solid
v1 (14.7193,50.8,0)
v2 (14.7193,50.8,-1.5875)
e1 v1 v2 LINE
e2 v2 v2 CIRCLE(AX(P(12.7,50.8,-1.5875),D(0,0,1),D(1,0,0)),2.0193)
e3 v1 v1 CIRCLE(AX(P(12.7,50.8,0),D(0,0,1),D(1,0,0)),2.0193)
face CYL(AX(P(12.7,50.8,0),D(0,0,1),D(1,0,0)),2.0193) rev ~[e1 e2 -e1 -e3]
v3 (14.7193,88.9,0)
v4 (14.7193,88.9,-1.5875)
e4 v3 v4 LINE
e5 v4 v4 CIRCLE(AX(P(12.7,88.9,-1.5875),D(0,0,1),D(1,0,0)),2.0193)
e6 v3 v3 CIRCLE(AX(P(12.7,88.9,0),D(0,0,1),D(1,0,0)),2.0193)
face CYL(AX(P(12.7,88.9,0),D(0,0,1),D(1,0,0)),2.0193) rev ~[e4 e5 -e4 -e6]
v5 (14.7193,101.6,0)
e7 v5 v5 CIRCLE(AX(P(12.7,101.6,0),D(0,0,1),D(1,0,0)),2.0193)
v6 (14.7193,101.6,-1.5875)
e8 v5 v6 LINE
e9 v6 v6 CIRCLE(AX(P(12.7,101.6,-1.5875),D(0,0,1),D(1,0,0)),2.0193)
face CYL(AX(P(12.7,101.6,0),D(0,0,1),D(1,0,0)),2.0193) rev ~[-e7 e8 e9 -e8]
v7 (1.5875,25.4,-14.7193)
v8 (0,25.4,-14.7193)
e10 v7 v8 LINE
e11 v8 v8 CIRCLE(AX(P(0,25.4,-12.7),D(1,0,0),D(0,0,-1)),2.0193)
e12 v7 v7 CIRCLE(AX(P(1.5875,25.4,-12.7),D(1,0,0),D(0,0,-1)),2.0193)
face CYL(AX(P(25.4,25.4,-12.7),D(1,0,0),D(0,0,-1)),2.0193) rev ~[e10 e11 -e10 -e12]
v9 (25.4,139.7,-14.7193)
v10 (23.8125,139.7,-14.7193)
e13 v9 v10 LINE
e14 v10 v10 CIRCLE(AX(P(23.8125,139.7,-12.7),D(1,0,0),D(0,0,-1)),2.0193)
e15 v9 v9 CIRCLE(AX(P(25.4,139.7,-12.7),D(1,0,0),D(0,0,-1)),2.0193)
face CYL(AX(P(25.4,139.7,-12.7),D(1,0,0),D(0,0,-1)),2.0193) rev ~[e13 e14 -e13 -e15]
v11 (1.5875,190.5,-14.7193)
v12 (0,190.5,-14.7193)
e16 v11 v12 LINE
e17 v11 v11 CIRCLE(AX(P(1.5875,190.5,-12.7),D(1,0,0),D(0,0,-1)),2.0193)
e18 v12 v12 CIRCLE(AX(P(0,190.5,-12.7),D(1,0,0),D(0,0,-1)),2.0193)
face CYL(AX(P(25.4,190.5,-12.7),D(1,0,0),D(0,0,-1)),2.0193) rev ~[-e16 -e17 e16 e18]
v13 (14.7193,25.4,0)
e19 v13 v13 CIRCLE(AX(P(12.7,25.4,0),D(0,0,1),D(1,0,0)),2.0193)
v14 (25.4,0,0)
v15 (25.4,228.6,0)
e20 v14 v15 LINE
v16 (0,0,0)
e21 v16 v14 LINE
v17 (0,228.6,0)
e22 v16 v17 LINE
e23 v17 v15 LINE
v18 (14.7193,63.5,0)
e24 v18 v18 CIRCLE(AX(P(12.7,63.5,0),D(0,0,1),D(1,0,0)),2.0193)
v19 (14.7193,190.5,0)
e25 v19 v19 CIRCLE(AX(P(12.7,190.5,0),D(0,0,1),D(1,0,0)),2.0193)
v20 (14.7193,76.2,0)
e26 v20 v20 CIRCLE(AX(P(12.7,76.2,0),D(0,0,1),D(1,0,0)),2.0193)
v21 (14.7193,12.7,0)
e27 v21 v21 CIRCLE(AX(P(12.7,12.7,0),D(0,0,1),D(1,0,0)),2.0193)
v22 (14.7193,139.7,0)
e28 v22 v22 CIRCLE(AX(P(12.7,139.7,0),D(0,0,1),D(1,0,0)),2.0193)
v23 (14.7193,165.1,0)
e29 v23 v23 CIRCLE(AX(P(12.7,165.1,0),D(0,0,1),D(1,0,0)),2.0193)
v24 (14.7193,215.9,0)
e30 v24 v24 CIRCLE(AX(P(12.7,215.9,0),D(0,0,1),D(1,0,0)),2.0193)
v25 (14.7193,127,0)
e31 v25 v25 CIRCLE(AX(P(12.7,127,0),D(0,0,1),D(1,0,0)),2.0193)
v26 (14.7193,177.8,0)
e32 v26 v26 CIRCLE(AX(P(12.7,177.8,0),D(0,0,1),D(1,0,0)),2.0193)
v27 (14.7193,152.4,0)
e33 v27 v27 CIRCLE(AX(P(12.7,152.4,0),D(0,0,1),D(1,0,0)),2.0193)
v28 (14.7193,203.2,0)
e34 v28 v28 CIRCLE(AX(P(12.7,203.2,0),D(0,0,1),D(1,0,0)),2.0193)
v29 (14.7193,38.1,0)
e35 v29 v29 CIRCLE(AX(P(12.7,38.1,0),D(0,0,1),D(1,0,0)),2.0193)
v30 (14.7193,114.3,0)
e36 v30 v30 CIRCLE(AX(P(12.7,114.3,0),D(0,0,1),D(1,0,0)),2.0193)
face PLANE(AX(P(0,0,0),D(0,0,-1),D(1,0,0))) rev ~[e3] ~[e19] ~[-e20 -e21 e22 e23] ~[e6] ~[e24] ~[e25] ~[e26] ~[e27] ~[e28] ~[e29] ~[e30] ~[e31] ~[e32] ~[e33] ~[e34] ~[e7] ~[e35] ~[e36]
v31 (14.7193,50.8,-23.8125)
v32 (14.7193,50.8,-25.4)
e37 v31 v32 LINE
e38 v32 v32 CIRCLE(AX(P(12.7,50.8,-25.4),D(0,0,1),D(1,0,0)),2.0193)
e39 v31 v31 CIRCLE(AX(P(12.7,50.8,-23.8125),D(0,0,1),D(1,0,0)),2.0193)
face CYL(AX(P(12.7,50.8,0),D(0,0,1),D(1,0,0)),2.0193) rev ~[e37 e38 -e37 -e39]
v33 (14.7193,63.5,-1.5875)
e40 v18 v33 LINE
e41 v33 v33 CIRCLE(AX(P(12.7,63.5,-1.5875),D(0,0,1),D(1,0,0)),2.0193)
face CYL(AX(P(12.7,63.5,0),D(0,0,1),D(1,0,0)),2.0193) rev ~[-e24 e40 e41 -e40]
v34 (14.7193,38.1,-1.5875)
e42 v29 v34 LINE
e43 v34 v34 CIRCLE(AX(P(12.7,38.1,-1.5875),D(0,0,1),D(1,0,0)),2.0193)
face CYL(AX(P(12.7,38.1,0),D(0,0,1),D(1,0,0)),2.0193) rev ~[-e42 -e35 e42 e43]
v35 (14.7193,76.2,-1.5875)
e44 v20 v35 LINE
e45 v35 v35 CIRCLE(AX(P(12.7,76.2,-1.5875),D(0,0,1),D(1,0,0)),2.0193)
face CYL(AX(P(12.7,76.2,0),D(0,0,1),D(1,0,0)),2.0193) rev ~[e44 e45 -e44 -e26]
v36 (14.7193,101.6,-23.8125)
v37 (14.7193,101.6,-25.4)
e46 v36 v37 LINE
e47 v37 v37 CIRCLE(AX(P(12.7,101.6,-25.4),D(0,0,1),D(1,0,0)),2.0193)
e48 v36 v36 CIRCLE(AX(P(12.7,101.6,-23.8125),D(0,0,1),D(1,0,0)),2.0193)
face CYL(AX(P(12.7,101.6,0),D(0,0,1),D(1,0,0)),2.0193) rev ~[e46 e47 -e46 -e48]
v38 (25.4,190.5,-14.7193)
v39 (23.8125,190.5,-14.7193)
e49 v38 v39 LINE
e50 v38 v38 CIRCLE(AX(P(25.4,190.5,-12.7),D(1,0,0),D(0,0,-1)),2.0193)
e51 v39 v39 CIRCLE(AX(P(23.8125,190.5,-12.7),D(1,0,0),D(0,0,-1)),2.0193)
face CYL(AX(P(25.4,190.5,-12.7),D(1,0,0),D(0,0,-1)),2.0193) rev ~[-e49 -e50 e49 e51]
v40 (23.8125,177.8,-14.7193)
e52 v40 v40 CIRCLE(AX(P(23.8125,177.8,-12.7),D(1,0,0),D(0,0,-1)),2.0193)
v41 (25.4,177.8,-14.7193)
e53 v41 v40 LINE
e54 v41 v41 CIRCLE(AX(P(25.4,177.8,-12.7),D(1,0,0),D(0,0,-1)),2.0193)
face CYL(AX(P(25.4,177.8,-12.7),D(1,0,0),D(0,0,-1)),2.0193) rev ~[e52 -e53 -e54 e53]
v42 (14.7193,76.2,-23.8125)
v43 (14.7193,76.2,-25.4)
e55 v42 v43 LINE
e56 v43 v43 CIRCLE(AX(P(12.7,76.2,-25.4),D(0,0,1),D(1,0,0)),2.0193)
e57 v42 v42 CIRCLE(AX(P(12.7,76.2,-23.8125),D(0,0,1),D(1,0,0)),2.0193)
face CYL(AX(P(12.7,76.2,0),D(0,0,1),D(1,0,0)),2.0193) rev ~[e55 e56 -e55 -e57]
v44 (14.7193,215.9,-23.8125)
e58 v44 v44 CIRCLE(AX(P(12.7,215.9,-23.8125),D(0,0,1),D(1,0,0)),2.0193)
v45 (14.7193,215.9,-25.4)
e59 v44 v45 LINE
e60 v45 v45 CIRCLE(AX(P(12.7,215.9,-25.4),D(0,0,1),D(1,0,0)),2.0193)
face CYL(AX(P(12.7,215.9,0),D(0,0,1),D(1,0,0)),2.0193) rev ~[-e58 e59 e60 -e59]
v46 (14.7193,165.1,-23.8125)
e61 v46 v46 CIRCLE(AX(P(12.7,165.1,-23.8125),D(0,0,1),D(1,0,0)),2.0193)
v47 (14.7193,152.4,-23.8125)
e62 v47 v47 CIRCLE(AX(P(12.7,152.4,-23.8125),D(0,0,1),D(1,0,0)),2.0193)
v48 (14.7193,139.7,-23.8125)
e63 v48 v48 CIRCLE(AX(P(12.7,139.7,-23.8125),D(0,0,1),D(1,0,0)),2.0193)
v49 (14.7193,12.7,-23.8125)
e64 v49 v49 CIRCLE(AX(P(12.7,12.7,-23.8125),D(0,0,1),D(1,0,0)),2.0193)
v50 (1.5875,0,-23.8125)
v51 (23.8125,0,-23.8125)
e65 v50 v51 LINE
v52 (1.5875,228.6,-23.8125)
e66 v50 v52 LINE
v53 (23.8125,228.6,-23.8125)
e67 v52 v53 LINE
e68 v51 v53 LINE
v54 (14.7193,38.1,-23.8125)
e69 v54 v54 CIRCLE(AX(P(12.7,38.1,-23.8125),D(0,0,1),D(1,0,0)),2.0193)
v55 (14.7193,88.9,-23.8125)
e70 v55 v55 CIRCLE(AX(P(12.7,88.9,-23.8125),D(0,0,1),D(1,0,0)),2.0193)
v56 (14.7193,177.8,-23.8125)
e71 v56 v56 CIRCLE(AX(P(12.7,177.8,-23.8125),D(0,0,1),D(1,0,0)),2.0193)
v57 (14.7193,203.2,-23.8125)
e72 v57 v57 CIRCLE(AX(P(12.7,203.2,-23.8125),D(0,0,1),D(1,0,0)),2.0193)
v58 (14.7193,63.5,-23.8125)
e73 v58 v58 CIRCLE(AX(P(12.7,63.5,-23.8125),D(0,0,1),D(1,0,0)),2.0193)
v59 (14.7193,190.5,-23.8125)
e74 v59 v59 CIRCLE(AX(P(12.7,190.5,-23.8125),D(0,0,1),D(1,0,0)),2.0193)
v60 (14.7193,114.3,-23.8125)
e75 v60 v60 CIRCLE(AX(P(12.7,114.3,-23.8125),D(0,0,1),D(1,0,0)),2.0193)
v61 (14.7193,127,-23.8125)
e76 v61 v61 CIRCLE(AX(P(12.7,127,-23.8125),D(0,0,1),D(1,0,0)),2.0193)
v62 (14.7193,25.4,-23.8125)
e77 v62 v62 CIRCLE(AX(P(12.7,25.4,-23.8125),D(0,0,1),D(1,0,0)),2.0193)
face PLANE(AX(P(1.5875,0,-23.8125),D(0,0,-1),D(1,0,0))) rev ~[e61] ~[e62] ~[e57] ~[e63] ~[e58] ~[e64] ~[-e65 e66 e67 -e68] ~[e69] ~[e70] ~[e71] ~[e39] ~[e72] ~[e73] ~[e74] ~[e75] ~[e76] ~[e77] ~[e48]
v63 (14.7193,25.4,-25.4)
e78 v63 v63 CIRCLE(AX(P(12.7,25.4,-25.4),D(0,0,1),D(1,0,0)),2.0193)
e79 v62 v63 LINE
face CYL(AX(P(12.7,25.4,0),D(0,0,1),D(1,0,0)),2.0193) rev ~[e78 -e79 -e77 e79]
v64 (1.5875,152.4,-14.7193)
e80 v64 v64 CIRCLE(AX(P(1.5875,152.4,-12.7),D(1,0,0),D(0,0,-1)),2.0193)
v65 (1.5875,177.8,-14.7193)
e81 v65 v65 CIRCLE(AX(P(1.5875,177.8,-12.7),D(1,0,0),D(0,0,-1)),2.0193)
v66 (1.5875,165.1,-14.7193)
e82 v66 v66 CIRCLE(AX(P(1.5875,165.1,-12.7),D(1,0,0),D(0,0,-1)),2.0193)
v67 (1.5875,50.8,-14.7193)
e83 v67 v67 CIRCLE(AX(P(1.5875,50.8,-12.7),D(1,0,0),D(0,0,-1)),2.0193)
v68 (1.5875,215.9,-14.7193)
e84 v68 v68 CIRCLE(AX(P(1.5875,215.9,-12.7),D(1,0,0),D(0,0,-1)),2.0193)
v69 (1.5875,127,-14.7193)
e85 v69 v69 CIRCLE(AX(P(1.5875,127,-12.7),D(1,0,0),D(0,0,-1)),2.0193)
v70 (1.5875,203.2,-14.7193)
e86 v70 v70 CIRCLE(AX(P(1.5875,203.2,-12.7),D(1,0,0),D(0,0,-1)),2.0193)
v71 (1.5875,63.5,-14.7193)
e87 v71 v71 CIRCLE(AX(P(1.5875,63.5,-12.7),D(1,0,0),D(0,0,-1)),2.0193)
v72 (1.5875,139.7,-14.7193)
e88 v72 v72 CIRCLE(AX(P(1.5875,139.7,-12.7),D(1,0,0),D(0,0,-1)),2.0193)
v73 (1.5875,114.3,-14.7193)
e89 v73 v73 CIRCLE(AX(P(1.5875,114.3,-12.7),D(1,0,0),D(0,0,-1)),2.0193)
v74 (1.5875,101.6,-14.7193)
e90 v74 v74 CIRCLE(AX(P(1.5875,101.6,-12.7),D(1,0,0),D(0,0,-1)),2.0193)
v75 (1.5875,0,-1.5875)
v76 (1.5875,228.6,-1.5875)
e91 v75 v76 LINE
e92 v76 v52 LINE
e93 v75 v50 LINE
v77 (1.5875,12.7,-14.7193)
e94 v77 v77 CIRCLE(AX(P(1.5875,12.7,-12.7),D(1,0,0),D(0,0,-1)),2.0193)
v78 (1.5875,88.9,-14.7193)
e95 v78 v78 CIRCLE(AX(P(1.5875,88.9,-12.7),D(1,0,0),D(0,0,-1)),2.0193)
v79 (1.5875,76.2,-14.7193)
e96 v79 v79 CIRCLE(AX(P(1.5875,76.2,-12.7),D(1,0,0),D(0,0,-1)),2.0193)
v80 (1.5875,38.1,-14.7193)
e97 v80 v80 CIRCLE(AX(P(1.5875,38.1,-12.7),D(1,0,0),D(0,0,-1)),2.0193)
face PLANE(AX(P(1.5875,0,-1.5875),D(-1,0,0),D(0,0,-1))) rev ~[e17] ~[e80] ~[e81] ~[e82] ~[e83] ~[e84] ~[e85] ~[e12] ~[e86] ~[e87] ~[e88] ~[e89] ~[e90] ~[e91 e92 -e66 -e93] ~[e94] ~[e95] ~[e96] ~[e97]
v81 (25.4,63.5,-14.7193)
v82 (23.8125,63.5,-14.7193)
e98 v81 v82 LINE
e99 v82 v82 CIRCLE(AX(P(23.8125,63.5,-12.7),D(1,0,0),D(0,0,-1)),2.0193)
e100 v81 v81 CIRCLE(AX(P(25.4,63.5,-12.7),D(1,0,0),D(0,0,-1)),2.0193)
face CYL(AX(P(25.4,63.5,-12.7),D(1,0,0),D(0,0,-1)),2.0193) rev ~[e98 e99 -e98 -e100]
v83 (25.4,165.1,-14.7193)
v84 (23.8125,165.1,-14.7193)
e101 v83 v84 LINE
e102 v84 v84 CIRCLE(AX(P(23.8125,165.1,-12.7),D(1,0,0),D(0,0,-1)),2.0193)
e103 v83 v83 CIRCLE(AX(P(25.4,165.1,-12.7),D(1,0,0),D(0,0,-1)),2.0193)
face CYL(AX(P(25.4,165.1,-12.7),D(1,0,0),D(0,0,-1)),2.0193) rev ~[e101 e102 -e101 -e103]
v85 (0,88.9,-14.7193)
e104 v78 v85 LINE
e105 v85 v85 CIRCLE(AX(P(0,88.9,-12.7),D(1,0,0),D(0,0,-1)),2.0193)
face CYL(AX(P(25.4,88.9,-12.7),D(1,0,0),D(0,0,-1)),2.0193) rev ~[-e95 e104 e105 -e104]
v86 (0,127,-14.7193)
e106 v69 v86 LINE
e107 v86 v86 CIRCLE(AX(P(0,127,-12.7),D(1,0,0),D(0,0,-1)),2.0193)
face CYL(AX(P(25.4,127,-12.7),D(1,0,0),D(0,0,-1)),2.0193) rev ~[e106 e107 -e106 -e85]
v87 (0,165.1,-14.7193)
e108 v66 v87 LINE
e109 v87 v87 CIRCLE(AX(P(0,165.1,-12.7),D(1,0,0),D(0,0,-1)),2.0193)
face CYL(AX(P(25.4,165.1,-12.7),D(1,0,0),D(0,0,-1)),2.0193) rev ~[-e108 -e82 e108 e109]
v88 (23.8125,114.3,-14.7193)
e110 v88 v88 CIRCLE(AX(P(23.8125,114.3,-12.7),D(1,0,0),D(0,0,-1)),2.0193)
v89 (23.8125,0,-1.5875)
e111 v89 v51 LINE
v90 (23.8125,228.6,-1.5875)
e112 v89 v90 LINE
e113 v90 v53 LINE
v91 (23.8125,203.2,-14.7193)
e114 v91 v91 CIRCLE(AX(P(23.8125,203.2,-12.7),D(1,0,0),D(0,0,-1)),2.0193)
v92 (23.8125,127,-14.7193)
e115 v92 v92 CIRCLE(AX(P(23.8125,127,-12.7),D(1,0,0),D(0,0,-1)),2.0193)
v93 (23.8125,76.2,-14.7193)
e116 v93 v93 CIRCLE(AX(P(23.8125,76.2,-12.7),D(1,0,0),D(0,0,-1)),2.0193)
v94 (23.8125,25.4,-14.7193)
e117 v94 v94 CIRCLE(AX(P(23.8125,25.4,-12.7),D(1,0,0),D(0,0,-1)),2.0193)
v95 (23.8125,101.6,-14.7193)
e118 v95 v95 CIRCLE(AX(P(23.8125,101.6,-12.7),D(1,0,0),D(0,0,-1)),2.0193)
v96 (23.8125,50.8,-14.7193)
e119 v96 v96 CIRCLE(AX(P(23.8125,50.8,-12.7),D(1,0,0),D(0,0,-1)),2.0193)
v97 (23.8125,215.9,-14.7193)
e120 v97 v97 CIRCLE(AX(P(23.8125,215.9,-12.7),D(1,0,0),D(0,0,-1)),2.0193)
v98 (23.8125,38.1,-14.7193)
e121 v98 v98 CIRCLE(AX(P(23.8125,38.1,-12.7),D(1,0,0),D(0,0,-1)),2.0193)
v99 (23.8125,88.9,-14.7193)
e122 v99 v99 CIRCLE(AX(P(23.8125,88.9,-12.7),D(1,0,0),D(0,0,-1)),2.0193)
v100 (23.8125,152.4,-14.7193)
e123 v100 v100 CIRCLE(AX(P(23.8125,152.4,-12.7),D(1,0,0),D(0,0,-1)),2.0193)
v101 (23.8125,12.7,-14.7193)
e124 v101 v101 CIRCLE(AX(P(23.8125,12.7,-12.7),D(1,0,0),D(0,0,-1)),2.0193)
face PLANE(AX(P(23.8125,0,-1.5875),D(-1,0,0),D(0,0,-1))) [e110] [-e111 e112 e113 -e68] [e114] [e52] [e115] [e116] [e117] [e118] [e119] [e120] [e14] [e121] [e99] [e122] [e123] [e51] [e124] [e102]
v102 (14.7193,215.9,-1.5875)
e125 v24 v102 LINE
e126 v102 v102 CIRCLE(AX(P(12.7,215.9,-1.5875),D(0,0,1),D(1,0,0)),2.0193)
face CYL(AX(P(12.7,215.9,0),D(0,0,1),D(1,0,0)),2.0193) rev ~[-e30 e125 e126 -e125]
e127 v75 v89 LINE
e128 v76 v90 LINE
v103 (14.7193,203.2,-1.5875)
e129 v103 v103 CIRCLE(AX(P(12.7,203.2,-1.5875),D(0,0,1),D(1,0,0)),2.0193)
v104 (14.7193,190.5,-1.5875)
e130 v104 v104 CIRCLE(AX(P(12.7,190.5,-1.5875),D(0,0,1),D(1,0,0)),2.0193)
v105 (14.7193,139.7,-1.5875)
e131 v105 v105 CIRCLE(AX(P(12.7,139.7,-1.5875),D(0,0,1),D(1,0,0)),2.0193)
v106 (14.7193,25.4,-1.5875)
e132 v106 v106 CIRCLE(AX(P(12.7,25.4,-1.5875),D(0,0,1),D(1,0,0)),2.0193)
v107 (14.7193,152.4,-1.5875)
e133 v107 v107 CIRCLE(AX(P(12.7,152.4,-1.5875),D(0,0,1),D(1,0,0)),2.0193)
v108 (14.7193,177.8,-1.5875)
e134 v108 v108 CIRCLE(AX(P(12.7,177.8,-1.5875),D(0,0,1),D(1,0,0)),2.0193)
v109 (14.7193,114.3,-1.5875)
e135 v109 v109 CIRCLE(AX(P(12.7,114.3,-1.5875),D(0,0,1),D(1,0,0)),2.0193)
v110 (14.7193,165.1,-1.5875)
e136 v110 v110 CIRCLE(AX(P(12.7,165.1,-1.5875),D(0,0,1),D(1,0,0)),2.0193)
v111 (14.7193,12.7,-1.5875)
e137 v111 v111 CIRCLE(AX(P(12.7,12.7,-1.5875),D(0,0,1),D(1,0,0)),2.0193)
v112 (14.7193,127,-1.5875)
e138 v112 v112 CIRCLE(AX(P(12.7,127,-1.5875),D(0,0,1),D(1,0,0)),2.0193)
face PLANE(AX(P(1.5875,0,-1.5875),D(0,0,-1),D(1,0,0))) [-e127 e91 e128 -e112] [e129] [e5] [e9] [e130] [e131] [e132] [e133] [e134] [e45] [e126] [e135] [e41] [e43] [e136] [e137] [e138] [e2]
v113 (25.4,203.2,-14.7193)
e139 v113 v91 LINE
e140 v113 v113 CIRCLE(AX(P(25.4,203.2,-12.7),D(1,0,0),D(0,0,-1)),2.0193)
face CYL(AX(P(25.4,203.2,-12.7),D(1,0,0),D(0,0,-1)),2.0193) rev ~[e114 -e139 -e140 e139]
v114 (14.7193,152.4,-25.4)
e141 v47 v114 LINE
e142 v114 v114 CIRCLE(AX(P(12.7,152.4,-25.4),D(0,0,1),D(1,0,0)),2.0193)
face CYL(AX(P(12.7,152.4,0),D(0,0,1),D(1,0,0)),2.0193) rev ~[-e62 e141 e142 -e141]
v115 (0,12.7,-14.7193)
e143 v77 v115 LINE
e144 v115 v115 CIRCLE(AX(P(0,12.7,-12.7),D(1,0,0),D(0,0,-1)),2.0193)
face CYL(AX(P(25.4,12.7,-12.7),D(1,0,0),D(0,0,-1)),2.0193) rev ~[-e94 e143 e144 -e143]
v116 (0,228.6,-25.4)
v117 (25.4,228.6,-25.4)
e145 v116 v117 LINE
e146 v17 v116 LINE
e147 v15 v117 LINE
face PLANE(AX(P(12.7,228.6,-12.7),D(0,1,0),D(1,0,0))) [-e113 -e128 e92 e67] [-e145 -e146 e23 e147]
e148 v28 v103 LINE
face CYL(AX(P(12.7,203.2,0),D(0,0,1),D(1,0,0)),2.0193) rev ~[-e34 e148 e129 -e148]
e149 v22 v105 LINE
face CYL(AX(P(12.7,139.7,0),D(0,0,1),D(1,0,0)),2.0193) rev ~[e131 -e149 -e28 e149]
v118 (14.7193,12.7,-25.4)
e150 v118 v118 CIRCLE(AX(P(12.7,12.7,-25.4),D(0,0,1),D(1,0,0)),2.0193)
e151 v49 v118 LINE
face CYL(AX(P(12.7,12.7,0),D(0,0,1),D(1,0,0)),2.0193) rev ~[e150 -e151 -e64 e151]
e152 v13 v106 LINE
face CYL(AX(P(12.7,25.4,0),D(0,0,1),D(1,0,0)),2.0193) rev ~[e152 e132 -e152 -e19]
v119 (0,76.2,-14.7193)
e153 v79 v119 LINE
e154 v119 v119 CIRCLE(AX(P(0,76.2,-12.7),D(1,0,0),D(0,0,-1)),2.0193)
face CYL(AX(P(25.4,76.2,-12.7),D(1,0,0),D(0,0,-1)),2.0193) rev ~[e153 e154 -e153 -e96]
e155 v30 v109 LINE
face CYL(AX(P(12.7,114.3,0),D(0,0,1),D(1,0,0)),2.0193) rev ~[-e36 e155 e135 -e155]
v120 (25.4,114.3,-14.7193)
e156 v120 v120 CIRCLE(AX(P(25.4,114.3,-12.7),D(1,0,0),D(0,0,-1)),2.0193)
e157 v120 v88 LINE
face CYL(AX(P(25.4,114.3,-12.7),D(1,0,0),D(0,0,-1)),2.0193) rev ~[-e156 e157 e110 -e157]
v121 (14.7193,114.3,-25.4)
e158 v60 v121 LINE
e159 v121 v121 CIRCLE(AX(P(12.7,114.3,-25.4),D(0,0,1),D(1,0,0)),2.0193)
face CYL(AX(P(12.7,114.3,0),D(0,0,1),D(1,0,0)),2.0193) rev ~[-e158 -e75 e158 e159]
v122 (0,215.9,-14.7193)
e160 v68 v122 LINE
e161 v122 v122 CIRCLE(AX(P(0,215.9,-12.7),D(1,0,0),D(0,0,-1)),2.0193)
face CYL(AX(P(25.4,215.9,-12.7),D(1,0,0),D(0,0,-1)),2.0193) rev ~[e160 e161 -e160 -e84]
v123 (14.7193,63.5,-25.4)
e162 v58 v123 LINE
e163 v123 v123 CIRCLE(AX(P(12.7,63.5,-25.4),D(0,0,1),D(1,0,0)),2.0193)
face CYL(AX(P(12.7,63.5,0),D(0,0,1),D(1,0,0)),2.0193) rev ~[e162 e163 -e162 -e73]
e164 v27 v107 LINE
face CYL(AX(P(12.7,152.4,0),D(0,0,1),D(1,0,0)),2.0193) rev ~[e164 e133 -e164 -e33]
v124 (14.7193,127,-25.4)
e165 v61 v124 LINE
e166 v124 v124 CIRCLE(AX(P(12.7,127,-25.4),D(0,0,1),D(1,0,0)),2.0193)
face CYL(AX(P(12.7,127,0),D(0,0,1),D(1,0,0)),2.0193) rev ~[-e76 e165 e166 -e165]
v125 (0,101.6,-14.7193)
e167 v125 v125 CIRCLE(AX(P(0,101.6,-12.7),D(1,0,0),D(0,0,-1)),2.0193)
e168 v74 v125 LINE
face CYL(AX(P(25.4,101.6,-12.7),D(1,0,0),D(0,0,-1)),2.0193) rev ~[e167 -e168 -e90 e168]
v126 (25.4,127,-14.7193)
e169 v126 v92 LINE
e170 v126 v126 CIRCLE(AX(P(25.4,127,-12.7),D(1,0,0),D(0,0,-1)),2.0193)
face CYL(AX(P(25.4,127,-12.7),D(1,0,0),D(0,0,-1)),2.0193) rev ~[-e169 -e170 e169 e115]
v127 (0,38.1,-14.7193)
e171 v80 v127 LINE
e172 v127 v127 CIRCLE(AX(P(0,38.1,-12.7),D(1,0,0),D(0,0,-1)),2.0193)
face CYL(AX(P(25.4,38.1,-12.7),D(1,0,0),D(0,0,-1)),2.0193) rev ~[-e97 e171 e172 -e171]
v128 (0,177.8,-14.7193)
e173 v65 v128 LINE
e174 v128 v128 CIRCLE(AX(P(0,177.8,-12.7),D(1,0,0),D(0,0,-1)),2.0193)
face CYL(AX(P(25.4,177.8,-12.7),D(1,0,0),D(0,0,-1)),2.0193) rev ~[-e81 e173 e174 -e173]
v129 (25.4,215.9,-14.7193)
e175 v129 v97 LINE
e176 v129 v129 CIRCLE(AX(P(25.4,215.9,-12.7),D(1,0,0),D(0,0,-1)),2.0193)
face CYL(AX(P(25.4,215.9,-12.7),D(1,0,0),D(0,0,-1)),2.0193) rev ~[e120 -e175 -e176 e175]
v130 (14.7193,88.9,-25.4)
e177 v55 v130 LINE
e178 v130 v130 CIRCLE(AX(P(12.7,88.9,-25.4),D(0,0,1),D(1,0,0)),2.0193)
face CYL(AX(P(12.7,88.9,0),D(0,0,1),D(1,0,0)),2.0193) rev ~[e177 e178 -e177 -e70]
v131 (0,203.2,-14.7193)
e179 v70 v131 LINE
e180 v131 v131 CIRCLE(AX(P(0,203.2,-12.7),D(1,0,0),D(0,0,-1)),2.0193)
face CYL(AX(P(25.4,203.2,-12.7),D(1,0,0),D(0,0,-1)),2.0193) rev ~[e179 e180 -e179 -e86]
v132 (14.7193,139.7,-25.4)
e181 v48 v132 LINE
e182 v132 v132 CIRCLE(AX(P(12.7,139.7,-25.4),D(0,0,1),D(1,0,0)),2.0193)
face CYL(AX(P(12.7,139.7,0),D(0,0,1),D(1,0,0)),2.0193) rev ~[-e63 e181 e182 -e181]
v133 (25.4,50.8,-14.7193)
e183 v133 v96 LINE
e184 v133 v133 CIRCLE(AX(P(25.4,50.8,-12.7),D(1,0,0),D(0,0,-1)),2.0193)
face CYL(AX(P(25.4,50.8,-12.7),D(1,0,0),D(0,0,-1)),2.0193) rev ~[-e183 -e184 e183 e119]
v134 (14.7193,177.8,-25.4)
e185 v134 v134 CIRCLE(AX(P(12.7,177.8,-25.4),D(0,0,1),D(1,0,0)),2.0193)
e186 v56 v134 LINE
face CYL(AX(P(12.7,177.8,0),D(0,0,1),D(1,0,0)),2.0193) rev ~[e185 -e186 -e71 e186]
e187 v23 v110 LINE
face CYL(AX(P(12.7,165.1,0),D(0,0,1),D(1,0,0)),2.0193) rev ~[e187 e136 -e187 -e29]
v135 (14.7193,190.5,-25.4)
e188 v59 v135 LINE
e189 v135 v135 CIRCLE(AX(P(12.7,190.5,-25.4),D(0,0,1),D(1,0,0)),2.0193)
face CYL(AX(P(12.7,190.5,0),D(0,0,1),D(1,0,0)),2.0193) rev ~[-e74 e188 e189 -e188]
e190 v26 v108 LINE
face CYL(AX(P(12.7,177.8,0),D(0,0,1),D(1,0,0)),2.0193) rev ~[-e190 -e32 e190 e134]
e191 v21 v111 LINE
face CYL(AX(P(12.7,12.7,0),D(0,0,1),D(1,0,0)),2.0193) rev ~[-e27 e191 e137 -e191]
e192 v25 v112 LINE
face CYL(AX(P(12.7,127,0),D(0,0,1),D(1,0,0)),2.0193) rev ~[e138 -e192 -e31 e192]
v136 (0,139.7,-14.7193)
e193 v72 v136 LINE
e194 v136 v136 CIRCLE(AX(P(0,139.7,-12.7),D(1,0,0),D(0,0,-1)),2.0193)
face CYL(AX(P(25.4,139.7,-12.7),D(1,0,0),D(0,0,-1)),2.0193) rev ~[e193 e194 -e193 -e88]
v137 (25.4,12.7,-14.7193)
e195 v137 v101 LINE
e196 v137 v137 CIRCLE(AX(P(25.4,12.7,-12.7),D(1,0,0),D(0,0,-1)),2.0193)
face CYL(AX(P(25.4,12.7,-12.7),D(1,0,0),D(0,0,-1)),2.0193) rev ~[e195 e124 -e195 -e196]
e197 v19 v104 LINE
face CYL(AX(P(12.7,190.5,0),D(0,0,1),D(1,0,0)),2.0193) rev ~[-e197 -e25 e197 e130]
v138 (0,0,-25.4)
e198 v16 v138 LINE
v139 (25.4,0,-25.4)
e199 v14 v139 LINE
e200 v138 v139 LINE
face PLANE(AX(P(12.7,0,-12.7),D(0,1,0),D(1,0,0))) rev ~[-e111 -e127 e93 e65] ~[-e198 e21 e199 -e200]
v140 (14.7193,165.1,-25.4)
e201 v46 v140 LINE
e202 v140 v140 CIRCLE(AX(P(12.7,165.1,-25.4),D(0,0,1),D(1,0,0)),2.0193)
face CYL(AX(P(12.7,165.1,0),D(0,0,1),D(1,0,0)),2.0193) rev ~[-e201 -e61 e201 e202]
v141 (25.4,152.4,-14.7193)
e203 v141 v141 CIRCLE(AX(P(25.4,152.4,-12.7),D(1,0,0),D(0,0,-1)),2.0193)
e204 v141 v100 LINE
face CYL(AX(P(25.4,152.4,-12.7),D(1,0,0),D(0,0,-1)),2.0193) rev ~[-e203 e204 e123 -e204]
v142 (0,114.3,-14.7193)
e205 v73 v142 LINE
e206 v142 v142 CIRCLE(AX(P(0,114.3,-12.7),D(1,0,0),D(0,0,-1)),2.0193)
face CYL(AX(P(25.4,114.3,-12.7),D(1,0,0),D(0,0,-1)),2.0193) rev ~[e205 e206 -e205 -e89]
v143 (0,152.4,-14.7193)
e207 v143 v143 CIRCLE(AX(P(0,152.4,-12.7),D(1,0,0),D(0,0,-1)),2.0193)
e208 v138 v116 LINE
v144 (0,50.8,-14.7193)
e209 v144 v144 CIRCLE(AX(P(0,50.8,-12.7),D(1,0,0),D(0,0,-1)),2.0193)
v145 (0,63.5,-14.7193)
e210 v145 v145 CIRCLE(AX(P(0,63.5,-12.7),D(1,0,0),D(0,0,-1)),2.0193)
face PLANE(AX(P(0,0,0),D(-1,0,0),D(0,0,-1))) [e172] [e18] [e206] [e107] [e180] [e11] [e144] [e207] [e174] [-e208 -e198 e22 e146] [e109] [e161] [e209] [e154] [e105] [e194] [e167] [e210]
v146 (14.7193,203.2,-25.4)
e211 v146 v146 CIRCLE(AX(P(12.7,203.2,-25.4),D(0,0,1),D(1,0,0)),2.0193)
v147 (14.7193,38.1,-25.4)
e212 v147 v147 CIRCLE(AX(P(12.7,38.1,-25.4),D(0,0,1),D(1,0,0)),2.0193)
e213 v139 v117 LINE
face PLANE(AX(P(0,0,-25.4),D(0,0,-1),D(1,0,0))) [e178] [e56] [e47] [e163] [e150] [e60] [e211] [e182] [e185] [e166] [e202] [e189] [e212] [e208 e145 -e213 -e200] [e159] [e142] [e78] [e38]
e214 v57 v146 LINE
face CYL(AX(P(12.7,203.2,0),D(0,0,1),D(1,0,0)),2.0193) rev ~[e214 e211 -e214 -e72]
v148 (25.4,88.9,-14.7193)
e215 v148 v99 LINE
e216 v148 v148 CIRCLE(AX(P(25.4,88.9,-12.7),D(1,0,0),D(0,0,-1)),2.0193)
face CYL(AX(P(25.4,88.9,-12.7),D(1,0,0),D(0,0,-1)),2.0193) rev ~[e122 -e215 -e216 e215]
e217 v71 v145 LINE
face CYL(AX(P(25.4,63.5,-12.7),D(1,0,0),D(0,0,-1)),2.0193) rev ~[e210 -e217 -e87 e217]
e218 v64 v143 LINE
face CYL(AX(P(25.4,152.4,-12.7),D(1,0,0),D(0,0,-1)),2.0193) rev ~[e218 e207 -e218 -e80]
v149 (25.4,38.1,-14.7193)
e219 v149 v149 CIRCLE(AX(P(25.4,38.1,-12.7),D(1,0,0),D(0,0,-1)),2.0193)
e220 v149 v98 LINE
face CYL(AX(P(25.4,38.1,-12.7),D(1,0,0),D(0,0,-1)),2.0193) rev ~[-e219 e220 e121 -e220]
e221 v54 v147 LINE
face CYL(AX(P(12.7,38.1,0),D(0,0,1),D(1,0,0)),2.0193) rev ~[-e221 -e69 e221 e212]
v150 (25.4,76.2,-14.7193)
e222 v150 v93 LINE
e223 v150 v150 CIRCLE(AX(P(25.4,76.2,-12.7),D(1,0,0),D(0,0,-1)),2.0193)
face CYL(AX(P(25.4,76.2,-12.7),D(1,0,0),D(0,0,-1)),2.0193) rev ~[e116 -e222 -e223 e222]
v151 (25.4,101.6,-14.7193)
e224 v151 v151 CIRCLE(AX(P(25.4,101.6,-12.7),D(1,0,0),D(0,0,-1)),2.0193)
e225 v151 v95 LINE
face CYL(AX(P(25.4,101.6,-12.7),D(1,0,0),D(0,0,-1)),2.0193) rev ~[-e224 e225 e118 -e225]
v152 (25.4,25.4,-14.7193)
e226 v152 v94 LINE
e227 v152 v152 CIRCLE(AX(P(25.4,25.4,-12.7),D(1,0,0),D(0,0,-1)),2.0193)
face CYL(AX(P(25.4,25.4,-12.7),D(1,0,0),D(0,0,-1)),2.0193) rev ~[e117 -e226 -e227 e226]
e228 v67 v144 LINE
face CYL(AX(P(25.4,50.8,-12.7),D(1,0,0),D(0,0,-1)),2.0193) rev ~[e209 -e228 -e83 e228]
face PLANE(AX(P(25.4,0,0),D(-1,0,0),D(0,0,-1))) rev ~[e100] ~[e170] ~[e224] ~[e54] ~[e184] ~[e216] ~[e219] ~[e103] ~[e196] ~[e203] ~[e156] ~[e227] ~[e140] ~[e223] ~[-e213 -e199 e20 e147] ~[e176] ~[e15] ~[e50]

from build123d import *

# Parameters (mm, degrees)
SKETCH1_W           = 25.4
SKETCH1_H           = 25.4
SKETCH1_W_2         = 22.225
SKETCH1_H_2         = 22.225
BOSS_EXTRUDE1_DEPTH = 228.6
SKETCH2_R           = 2.0193
CUT_EXTRUDE1_DEPTH  = 26.4
SKETCH3_R           = 2.0193
CUT_EXTRUDE2_DEPTH  = 26.4


with BuildPart() as part:
    # Sketch1 → Boss-Extrude1 (new body)
    with BuildSketch(Plane(origin=(0, 0, 0), x_dir=(1, 0, 0), z_dir=(0, 1, 0))):
        with Locations((12.7, 12.7)):
            Rectangle(SKETCH1_W, SKETCH1_H)
        with Locations((12.7, 12.7)):
            Rectangle(SKETCH1_W_2, SKETCH1_H_2, mode=Mode.SUBTRACT)
    extrude(amount=BOSS_EXTRUDE1_DEPTH)

    # Sketch2 → Cut-Extrude1 (cut, through all)
    with BuildSketch(Plane.XY):
        with Locations((12.7, 12.7)):
            Circle(SKETCH2_R)
        with Locations((12.7, 25.4)):
            Circle(SKETCH2_R)
        with Locations((12.7, 38.1)):
            Circle(SKETCH2_R)
        with Locations((12.7, 50.8)):
            Circle(SKETCH2_R)
        with Locations((12.7, 63.5)):
            Circle(SKETCH2_R)
        with Locations((12.7, 76.2)):
            Circle(SKETCH2_R)
        with Locations((12.7, 88.9)):
            Circle(SKETCH2_R)
        with Locations((12.7, 101.6)):
            Circle(SKETCH2_R)
        with Locations((12.7, 114.3)):
            Circle(SKETCH2_R)
        with Locations((12.7, 127)):
            Circle(SKETCH2_R)
        with Locations((12.7, 139.7)):
            Circle(SKETCH2_R)
        with Locations((12.7, 152.4)):
            Circle(SKETCH2_R)
        with Locations((12.7, 165.1)):
            Circle(SKETCH2_R)
        with Locations((12.7, 177.8)):
            Circle(SKETCH2_R)
        with Locations((12.7, 190.5)):
            Circle(SKETCH2_R)
        with Locations((12.7, 203.2)):
            Circle(SKETCH2_R)
        with Locations((12.7, 215.9)):
            Circle(SKETCH2_R)
    extrude(amount=-CUT_EXTRUDE1_DEPTH, mode=Mode.SUBTRACT)

    # Sketch3 → Cut-Extrude2 (cut, through all)
    with BuildSketch(Plane(origin=(25.4, 0, 0), x_dir=(0, 0, -1), z_dir=(1, 0, 0))):
        with Locations((12.7, 12.7)):
            Circle(SKETCH3_R)
        with Locations((12.7, 25.4)):
            Circle(SKETCH3_R)
        with Locations((12.7, 38.1)):
            Circle(SKETCH3_R)
        with Locations((12.7, 50.8)):
            Circle(SKETCH3_R)
        with Locations((12.7, 63.5)):
            Circle(SKETCH3_R)
        with Locations((12.7, 76.2)):
            Circle(SKETCH3_R)
        with Locations((12.7, 88.9)):
            Circle(SKETCH3_R)
        with Locations((12.7, 101.6)):
            Circle(SKETCH3_R)
        with Locations((12.7, 114.3)):
            Circle(SKETCH3_R)
        with Locations((12.7, 127)):
            Circle(SKETCH3_R)
        with Locations((12.7, 139.7)):
            Circle(SKETCH3_R)
        with Locations((12.7, 152.4)):
            Circle(SKETCH3_R)
        with Locations((12.7, 165.1)):
            Circle(SKETCH3_R)
        with Locations((12.7, 177.8)):
            Circle(SKETCH3_R)
        with Locations((12.7, 190.5)):
            Circle(SKETCH3_R)
        with Locations((12.7, 203.2)):
            Circle(SKETCH3_R)
        with Locations((12.7, 215.9)):
            Circle(SKETCH3_R)
    extrude(amount=-CUT_EXTRUDE2_DEPTH, mode=Mode.SUBTRACT)


solid = part.part
